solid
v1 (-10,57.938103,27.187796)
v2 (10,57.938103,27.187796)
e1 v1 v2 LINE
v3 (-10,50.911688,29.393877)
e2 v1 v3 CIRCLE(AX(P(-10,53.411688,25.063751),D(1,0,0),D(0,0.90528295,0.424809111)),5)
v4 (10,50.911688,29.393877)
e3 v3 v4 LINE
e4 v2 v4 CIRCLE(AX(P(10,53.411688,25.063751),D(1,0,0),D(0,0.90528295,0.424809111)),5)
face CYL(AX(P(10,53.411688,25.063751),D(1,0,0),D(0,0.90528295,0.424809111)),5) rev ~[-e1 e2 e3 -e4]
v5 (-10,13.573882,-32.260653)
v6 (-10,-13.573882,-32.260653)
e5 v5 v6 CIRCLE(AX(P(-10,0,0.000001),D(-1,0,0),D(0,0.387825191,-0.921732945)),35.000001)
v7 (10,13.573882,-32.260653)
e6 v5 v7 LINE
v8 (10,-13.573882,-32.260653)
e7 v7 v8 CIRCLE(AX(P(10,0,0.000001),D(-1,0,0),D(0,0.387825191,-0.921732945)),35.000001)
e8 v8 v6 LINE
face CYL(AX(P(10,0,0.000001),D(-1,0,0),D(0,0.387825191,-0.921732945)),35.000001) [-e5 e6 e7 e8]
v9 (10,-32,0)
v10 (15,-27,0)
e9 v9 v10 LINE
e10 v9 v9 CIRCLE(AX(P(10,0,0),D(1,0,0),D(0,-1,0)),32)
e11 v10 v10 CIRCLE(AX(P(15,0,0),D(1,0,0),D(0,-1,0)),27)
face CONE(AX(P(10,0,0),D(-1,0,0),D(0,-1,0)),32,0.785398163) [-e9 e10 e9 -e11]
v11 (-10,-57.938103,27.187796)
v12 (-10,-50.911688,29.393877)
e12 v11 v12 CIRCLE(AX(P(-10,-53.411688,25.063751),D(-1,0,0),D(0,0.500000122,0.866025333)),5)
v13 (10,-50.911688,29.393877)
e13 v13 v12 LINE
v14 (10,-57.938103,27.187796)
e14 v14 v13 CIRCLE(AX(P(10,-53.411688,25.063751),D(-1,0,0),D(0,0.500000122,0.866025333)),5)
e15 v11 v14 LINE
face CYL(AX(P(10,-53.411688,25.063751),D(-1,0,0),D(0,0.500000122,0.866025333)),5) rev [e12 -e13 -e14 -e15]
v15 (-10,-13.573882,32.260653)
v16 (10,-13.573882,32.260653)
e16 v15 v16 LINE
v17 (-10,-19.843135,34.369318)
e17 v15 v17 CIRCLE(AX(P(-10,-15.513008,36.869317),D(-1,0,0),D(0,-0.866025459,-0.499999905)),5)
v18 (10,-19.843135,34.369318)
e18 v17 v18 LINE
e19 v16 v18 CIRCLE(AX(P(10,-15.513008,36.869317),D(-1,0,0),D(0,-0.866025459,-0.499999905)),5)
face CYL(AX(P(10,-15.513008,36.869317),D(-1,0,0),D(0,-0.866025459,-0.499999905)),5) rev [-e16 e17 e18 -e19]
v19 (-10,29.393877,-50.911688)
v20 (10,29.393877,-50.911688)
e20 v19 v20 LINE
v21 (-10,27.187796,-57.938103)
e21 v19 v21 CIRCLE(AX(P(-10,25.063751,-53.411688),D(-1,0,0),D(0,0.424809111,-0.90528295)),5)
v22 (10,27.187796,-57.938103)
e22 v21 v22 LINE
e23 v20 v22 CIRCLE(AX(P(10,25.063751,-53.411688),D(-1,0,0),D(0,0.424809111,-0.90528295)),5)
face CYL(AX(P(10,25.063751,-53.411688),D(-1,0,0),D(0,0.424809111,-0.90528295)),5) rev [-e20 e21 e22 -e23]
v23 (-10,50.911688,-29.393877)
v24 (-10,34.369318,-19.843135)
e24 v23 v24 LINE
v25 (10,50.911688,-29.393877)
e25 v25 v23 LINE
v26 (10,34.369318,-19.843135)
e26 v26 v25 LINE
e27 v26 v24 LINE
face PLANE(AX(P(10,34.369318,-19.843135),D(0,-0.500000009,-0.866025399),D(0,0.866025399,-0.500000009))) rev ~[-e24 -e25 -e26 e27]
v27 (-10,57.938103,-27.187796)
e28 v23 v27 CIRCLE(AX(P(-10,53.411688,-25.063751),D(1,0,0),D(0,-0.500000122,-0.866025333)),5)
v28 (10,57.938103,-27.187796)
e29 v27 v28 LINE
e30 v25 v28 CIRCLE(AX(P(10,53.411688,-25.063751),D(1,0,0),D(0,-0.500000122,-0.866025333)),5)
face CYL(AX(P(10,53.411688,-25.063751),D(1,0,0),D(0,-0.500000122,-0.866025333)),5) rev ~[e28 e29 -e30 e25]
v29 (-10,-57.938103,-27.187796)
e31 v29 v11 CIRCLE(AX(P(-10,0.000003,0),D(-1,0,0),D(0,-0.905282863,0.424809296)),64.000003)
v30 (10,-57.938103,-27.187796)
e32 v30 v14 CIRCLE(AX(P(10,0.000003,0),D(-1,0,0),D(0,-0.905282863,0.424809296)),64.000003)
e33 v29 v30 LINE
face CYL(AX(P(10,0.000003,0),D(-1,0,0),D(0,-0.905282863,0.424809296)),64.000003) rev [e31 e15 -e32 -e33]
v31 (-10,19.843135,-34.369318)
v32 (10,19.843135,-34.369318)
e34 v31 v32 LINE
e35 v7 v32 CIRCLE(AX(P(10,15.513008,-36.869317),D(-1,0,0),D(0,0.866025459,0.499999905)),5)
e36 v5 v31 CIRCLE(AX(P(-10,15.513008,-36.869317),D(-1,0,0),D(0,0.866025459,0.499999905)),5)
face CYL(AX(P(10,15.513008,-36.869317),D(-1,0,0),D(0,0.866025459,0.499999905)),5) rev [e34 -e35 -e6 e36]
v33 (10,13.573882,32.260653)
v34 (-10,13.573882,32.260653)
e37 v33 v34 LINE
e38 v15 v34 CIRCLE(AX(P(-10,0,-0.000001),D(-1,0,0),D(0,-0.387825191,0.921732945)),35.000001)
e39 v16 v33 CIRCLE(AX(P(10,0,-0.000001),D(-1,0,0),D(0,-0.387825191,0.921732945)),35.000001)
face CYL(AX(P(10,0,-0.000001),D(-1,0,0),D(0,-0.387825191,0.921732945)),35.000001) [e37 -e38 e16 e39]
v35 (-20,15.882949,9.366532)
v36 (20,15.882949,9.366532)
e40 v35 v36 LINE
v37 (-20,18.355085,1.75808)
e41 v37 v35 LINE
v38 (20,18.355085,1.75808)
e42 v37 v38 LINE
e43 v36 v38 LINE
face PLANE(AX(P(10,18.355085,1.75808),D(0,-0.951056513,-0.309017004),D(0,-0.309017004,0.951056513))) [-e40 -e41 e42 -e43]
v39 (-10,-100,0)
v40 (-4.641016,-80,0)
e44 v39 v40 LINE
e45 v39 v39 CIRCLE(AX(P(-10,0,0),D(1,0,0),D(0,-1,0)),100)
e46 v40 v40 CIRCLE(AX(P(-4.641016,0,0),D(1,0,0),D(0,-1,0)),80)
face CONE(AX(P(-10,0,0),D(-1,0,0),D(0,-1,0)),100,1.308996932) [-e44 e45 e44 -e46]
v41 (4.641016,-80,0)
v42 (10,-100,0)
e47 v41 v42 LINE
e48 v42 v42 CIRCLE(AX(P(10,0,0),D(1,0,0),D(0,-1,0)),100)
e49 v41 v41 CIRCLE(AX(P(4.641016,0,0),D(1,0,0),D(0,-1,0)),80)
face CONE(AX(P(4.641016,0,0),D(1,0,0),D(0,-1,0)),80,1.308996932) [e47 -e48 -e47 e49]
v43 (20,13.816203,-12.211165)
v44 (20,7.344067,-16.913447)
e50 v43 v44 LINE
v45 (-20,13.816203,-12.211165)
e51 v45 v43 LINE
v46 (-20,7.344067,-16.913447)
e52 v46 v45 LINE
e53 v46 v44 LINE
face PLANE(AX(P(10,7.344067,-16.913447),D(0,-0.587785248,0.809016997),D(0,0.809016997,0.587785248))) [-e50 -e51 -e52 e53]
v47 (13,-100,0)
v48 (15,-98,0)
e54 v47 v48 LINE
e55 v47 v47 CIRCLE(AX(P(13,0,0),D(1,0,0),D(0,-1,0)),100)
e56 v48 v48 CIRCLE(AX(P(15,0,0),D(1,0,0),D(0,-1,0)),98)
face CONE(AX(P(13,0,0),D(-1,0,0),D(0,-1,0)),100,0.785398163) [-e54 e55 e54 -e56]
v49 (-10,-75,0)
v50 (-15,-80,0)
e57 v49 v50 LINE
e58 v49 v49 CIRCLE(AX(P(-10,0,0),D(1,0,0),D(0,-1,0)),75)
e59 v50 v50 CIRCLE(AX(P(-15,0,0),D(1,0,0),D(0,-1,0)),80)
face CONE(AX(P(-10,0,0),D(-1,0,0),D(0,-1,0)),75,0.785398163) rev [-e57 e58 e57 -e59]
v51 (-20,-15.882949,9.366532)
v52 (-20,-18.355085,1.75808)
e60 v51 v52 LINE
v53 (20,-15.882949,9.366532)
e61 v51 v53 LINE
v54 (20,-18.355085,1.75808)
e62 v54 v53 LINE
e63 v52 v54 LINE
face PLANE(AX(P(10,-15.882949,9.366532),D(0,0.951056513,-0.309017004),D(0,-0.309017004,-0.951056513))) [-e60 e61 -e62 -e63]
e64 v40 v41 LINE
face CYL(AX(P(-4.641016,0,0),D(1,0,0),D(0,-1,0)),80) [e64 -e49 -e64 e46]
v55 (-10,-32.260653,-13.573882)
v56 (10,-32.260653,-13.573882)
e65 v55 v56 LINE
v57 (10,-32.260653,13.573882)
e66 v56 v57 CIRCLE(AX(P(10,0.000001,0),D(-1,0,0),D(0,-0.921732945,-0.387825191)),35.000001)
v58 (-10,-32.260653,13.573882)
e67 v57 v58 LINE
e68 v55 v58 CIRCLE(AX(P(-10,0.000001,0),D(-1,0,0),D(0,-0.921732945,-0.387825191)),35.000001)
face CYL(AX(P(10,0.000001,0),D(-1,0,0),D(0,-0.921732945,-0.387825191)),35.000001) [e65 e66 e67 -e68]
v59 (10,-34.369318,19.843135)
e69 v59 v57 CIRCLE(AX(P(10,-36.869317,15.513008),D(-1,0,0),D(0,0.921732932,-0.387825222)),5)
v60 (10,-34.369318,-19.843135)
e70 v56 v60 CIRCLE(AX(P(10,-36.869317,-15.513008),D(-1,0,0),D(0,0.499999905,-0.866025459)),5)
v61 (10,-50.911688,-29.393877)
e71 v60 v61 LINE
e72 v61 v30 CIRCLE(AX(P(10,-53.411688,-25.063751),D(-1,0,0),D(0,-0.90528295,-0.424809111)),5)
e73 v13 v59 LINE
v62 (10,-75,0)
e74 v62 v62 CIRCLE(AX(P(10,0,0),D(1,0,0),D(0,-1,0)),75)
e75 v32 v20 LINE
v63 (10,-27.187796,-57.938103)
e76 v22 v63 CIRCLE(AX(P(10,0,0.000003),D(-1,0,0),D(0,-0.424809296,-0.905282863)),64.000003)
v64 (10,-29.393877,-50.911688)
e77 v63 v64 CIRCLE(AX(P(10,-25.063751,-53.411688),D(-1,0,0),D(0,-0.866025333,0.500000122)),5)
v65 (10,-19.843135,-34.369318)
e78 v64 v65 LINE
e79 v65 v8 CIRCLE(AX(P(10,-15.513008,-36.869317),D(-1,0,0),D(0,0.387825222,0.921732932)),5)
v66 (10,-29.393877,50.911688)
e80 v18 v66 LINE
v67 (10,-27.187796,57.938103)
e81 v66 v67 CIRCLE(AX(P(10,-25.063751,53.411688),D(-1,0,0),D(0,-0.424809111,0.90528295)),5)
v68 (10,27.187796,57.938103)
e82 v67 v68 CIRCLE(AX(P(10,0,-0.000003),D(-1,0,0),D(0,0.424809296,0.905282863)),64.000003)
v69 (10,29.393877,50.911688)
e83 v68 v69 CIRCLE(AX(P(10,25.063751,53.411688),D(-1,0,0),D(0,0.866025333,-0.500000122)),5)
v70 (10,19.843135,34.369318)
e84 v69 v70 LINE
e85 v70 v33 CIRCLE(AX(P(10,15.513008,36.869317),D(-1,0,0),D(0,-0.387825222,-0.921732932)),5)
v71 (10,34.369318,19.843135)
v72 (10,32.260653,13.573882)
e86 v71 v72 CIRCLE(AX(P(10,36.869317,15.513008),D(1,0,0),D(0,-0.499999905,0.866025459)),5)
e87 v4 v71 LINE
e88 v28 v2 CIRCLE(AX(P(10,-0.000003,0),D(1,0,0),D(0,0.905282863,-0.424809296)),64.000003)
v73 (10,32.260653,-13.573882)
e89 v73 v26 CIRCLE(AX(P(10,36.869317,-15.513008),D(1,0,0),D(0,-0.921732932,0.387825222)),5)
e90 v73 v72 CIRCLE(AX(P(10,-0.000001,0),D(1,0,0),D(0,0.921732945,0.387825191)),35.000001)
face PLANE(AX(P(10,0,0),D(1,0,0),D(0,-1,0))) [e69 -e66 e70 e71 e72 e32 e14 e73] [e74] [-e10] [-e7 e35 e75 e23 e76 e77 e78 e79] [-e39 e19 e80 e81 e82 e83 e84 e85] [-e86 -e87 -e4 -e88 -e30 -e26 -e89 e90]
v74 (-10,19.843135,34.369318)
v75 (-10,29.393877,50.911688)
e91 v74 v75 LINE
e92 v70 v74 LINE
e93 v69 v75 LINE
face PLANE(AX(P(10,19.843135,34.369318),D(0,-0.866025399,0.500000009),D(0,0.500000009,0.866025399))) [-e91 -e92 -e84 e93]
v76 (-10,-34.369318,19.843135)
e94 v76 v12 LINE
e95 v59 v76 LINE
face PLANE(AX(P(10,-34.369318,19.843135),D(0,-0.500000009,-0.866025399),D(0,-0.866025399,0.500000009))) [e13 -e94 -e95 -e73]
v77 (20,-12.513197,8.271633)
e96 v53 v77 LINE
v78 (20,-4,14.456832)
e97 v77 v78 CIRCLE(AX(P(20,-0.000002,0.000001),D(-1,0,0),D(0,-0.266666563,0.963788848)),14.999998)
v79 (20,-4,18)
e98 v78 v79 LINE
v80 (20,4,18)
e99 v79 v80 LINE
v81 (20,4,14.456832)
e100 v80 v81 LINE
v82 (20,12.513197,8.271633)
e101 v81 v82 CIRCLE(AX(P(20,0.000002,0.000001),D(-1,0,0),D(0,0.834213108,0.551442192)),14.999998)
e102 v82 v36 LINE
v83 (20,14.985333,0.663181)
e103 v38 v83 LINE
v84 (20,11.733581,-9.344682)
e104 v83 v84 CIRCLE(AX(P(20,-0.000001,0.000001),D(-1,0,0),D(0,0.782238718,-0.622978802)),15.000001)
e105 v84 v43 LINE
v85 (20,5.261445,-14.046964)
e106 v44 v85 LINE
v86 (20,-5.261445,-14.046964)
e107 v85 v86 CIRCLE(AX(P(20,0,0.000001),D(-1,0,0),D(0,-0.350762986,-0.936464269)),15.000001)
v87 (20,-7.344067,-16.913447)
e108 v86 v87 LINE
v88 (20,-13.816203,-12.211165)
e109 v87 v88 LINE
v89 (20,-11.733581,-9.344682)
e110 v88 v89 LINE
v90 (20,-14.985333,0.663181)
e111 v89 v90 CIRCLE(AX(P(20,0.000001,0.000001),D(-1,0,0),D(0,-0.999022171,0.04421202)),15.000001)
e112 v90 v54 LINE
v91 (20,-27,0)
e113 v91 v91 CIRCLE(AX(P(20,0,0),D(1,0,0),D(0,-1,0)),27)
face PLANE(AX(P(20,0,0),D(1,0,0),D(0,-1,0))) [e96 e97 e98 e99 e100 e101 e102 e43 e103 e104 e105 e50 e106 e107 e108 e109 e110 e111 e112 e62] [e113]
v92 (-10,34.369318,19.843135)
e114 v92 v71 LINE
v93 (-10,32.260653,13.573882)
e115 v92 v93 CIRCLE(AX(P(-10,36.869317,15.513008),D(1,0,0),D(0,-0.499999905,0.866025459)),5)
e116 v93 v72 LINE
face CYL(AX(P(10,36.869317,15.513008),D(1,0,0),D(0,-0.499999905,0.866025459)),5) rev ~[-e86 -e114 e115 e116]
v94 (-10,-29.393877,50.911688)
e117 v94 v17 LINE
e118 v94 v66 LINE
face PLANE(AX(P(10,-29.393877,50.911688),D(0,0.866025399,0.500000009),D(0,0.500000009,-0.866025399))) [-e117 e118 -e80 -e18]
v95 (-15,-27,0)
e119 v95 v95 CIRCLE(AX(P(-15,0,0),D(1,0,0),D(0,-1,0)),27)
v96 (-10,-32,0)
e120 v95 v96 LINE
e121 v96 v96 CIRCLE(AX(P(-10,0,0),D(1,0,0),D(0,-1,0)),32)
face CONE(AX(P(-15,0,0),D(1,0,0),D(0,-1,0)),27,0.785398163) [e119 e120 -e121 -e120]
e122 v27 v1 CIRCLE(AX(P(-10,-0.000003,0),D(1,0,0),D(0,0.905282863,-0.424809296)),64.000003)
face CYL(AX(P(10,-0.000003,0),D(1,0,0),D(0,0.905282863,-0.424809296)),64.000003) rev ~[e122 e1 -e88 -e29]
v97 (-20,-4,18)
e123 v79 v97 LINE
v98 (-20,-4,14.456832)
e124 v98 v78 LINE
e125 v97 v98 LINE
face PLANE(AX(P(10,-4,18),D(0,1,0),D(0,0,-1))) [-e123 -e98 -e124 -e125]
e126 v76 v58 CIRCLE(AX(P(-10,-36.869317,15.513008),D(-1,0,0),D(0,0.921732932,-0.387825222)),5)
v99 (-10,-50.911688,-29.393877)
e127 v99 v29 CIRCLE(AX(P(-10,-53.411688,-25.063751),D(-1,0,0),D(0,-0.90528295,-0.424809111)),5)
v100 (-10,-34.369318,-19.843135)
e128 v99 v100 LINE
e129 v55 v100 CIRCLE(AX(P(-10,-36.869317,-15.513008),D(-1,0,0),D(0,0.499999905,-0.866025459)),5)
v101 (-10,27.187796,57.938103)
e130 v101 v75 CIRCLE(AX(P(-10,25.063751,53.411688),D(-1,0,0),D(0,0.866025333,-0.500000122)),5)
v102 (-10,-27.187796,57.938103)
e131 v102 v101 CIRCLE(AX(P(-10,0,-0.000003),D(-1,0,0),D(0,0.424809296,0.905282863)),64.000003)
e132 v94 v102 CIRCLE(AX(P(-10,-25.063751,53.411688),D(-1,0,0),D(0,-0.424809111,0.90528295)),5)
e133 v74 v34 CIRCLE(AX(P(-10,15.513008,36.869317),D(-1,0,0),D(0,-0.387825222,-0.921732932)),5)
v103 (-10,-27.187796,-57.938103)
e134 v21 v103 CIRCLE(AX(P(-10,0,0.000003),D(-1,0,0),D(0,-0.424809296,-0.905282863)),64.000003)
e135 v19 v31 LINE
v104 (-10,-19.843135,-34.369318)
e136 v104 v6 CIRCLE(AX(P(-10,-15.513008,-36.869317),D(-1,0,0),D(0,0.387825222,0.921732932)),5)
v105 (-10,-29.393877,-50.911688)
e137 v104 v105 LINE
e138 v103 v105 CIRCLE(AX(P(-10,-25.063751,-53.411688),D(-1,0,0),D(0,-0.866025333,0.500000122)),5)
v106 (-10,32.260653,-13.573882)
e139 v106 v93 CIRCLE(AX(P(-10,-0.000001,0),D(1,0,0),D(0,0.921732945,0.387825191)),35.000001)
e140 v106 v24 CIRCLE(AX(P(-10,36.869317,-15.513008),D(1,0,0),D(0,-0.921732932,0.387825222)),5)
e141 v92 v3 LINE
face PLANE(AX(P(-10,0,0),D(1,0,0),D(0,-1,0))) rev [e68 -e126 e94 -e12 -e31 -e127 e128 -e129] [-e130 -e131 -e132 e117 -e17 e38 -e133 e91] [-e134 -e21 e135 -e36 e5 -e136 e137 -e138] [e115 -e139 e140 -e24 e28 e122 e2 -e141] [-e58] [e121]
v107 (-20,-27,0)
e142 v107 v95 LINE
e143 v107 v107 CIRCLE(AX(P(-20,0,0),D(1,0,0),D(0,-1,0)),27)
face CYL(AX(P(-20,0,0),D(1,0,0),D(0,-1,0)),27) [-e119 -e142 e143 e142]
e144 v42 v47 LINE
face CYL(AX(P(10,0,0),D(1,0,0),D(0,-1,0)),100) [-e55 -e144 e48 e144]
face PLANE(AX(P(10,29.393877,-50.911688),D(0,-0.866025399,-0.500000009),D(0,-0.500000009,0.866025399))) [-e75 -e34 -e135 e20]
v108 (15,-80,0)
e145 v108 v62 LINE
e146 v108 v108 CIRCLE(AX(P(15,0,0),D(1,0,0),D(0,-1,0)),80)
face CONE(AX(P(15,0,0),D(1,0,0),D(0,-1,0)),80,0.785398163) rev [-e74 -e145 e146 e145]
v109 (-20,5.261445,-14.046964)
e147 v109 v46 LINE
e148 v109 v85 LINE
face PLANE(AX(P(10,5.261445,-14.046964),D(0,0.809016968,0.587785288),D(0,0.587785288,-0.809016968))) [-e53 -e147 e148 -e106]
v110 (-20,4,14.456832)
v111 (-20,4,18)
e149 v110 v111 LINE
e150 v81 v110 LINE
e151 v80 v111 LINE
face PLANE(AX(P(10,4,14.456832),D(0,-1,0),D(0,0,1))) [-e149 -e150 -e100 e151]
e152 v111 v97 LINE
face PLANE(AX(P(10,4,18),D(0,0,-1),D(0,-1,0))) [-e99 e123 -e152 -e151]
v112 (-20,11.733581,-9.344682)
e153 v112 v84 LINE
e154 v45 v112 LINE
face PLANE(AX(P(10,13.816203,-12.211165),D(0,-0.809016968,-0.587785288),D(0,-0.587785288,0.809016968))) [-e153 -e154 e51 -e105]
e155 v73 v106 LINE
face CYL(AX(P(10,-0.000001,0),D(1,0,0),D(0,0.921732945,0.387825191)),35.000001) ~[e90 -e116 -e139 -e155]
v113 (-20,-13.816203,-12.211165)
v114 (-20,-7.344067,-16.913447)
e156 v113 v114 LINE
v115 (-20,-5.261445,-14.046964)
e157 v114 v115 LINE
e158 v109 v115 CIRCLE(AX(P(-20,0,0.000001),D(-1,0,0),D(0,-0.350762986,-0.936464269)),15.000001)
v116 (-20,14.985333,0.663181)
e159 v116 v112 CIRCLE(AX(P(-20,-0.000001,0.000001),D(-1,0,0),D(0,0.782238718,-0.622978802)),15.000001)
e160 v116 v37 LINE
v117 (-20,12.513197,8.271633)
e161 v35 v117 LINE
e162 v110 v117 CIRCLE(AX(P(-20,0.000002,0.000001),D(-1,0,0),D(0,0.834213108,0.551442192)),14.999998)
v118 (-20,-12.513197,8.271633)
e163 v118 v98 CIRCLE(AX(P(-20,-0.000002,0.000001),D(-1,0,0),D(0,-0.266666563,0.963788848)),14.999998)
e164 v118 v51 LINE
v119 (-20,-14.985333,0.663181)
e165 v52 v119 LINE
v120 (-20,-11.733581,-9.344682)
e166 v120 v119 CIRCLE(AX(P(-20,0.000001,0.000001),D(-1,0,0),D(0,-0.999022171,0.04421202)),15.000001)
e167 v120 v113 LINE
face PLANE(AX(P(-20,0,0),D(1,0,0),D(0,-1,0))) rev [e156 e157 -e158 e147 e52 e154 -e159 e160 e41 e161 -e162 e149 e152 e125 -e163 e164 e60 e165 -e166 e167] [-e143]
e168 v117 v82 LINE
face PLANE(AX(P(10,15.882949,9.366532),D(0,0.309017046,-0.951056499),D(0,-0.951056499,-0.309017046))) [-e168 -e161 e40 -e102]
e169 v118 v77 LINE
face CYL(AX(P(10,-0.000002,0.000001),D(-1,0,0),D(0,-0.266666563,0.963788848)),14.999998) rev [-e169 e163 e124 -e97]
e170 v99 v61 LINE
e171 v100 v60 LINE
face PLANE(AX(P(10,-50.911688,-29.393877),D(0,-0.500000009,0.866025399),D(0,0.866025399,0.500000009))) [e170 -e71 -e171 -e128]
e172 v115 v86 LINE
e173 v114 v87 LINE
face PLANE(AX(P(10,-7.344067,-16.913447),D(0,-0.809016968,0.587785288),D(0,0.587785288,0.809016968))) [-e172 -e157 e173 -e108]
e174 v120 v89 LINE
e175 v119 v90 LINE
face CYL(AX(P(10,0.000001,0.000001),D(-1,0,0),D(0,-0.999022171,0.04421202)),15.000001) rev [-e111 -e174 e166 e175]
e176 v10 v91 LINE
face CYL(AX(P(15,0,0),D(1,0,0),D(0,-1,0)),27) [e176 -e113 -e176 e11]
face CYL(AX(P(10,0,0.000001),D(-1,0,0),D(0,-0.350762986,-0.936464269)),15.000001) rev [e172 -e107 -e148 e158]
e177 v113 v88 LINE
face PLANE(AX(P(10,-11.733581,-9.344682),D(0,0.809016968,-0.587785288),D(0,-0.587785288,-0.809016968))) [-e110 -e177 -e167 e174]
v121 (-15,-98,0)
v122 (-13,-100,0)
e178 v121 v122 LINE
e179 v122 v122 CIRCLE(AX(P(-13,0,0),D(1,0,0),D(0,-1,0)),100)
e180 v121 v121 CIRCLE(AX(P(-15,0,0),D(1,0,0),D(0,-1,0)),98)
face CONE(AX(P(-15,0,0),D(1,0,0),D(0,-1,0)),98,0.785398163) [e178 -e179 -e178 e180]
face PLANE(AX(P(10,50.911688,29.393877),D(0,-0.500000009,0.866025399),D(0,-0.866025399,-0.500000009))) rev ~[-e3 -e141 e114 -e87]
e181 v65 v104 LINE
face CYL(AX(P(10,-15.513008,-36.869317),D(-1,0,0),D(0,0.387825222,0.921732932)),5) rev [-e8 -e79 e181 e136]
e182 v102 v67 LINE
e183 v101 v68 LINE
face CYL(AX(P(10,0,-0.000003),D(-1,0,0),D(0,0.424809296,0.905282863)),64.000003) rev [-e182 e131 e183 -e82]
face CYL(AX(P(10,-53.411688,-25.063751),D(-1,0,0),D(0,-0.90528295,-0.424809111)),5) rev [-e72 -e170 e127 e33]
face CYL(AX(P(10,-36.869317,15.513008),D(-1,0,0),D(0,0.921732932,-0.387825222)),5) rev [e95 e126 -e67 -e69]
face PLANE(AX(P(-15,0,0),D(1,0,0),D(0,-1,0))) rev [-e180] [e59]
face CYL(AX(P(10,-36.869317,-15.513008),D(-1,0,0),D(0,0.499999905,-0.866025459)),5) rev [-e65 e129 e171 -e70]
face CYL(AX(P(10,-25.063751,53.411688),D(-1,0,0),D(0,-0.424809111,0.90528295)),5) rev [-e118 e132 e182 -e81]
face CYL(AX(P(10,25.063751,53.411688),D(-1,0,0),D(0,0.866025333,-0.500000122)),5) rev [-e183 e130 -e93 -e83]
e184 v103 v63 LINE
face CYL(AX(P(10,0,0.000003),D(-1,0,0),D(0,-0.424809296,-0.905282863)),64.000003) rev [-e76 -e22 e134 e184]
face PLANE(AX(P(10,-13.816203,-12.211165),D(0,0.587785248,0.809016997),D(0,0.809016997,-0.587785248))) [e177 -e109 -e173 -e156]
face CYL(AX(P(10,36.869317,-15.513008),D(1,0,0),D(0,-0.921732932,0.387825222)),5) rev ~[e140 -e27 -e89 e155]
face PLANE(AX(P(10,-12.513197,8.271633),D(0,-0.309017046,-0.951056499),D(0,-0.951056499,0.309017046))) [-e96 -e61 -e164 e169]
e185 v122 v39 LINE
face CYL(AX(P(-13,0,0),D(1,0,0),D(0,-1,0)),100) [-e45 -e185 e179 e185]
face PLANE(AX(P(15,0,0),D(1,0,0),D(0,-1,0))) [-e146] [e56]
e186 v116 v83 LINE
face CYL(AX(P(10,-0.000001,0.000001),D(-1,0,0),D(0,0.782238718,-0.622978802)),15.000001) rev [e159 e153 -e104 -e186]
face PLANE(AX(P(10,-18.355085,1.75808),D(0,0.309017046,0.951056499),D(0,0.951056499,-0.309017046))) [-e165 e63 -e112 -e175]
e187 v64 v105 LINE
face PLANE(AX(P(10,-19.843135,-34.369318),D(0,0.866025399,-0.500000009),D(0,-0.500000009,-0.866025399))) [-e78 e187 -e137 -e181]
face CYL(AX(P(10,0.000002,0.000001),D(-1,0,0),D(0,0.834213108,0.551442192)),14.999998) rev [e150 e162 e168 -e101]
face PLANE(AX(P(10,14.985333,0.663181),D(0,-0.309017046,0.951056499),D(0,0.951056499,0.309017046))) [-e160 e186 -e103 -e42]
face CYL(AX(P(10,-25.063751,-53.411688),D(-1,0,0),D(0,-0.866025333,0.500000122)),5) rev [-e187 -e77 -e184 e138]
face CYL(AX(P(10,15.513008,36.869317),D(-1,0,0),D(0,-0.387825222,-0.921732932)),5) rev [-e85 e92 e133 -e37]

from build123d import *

# Parameters (mm, degrees)
F3_DEPTH = 70


with BuildPart() as f1:
    # F0 (on Top) → F1 (revolve)
    with BuildSketch(Plane.XY):
        Polygon((20, -27), (20, 0), (-20, 0), (-20, -27), (-15, -27), (-10, -32), (-10, -75), (-15, -80), (-15, -98), (-13, -100), (-10, -100), (-4.641016, -80), (0, -80), (4.641016, -80), (10, -100), (13, -100), (15, -98), (15, -80), (10, -75), (10, -32), (15, -27), align=None)
    revolve(axis=Axis((0, 0, 0), (1, 0, 0)))

    # F2 (on face) → F3 (cut, symmetric)
    with BuildSketch(Plane.YZ.offset(10)):
        with BuildLine():
            ThreePointArc((29.393877, 50.911688), (29.83415, 54.909449), (27.187796, 57.938103))
            ThreePointArc((27.187796, 57.938103), (0, 64), (-27.187796, 57.938103))
            ThreePointArc((-27.187796, 57.938103), (-29.83415, 54.909449), (-29.393877, 50.911688))
            Line((-29.393877, 50.911688), (-19.843135, 34.369318))
            ThreePointArc((-19.843135, 34.369318), (-17.107009, 32.130208), (-13.573882, 32.260653))
            ThreePointArc((-13.573882, 32.260653), (0, 35), (13.573882, 32.260653))
            ThreePointArc((13.573882, 32.260653), (17.107009, 32.130208), (19.843135, 34.369318))
            Line((19.843135, 34.369318), (29.393877, 50.911688))
        make_face()
        with BuildLine():
            Line((-4, 18), (-4, 14.456832))
            ThreePointArc((-4, 14.456832), (-8.816779, 12.135255), (-12.513197, 8.271633))
            Line((-12.513197, 8.271633), (-15.882949, 9.366532))
            Line((-15.882949, 9.366532), (-18.355085, 1.75808))
            Line((-18.355085, 1.75808), (-14.985333, 0.663181))
            ThreePointArc((-14.985333, 0.663181), (-14.265848, -4.635255), (-11.733581, -9.344682))
            Line((-11.733581, -9.344682), (-13.816203, -12.211165))
            Line((-13.816203, -12.211165), (-7.344067, -16.913447))
            Line((-7.344067, -16.913447), (-5.261445, -14.046964))
            ThreePointArc((-5.261445, -14.046964), (0, -15), (5.261445, -14.046964))
            Line((5.261445, -14.046964), (7.344067, -16.913447))
            Line((7.344067, -16.913447), (13.816203, -12.211165))
            Line((13.816203, -12.211165), (11.733581, -9.344682))
            ThreePointArc((11.733581, -9.344682), (14.265848, -4.635255), (14.985333, 0.663181))
            Line((14.985333, 0.663181), (18.355085, 1.75808))
            Line((18.355085, 1.75808), (15.882949, 9.366532))
            Line((15.882949, 9.366532), (12.513197, 8.271633))
            ThreePointArc((12.513197, 8.271633), (8.816779, 12.135255), (4, 14.456832))
            Line((4, 14.456832), (4, 18))
            Line((4, 18), (-4, 18))
        make_face()
        with BuildLine():
            ThreePointArc((-50.911688, 29.393877), (-54.909449, 29.83415), (-57.938103, 27.187796))
            ThreePointArc((-57.938103, 27.187796), (-64, 0), (-57.938103, -27.187796))
            ThreePointArc((-57.938103, -27.187796), (-54.909449, -29.83415), (-50.911688, -29.393877))
            Line((-50.911688, -29.393877), (-34.369318, -19.843135))
            ThreePointArc((-34.369318, -19.843135), (-32.130208, -17.107009), (-32.260653, -13.573882))
            ThreePointArc((-32.260653, -13.573882), (-35, 0), (-32.260653, 13.573882))
            ThreePointArc((-32.260653, 13.573882), (-32.130208, 17.107009), (-34.369318, 19.843135))
            Line((-34.369318, 19.843135), (-50.911688, 29.393877))
        make_face()
        with BuildLine():
            ThreePointArc((-29.393877, -50.911688), (-29.83415, -54.909449), (-27.187796, -57.938103))
            ThreePointArc((-27.187796, -57.938103), (0, -64), (27.187796, -57.938103))
            ThreePointArc((27.187796, -57.938103), (29.83415, -54.909449), (29.393877, -50.911688))
            Line((29.393877, -50.911688), (19.843135, -34.369318))
            ThreePointArc((19.843135, -34.369318), (17.107009, -32.130208), (13.573882, -32.260653))
            ThreePointArc((13.573882, -32.260653), (0, -35), (-13.573882, -32.260653))
            ThreePointArc((-13.573882, -32.260653), (-17.107009, -32.130208), (-19.843135, -34.369318))
            Line((-19.843135, -34.369318), (-29.393877, -50.911688))
        make_face()
        with BuildLine():
            ThreePointArc((50.911688, -29.393877), (54.909449, -29.83415), (57.938103, -27.187796))
            ThreePointArc((57.938103, -27.187796), (64, 0), (57.938103, 27.187796))
            ThreePointArc((57.938103, 27.187796), (54.909449, 29.83415), (50.911688, 29.393877))
            Line((50.911688, 29.393877), (34.369318, 19.843135))
            ThreePointArc((34.369318, 19.843135), (32.130208, 17.107009), (32.260653, 13.573882))
            ThreePointArc((32.260653, 13.573882), (35, 0), (32.260653, -13.573882))
            ThreePointArc((32.260653, -13.573882), (32.130208, -17.107009), (34.369318, -19.843135))
            Line((34.369318, -19.843135), (50.911688, -29.393877))
        make_face()
    extrude(amount=F3_DEPTH, both=True, mode=Mode.SUBTRACT)


solid = f1.part
